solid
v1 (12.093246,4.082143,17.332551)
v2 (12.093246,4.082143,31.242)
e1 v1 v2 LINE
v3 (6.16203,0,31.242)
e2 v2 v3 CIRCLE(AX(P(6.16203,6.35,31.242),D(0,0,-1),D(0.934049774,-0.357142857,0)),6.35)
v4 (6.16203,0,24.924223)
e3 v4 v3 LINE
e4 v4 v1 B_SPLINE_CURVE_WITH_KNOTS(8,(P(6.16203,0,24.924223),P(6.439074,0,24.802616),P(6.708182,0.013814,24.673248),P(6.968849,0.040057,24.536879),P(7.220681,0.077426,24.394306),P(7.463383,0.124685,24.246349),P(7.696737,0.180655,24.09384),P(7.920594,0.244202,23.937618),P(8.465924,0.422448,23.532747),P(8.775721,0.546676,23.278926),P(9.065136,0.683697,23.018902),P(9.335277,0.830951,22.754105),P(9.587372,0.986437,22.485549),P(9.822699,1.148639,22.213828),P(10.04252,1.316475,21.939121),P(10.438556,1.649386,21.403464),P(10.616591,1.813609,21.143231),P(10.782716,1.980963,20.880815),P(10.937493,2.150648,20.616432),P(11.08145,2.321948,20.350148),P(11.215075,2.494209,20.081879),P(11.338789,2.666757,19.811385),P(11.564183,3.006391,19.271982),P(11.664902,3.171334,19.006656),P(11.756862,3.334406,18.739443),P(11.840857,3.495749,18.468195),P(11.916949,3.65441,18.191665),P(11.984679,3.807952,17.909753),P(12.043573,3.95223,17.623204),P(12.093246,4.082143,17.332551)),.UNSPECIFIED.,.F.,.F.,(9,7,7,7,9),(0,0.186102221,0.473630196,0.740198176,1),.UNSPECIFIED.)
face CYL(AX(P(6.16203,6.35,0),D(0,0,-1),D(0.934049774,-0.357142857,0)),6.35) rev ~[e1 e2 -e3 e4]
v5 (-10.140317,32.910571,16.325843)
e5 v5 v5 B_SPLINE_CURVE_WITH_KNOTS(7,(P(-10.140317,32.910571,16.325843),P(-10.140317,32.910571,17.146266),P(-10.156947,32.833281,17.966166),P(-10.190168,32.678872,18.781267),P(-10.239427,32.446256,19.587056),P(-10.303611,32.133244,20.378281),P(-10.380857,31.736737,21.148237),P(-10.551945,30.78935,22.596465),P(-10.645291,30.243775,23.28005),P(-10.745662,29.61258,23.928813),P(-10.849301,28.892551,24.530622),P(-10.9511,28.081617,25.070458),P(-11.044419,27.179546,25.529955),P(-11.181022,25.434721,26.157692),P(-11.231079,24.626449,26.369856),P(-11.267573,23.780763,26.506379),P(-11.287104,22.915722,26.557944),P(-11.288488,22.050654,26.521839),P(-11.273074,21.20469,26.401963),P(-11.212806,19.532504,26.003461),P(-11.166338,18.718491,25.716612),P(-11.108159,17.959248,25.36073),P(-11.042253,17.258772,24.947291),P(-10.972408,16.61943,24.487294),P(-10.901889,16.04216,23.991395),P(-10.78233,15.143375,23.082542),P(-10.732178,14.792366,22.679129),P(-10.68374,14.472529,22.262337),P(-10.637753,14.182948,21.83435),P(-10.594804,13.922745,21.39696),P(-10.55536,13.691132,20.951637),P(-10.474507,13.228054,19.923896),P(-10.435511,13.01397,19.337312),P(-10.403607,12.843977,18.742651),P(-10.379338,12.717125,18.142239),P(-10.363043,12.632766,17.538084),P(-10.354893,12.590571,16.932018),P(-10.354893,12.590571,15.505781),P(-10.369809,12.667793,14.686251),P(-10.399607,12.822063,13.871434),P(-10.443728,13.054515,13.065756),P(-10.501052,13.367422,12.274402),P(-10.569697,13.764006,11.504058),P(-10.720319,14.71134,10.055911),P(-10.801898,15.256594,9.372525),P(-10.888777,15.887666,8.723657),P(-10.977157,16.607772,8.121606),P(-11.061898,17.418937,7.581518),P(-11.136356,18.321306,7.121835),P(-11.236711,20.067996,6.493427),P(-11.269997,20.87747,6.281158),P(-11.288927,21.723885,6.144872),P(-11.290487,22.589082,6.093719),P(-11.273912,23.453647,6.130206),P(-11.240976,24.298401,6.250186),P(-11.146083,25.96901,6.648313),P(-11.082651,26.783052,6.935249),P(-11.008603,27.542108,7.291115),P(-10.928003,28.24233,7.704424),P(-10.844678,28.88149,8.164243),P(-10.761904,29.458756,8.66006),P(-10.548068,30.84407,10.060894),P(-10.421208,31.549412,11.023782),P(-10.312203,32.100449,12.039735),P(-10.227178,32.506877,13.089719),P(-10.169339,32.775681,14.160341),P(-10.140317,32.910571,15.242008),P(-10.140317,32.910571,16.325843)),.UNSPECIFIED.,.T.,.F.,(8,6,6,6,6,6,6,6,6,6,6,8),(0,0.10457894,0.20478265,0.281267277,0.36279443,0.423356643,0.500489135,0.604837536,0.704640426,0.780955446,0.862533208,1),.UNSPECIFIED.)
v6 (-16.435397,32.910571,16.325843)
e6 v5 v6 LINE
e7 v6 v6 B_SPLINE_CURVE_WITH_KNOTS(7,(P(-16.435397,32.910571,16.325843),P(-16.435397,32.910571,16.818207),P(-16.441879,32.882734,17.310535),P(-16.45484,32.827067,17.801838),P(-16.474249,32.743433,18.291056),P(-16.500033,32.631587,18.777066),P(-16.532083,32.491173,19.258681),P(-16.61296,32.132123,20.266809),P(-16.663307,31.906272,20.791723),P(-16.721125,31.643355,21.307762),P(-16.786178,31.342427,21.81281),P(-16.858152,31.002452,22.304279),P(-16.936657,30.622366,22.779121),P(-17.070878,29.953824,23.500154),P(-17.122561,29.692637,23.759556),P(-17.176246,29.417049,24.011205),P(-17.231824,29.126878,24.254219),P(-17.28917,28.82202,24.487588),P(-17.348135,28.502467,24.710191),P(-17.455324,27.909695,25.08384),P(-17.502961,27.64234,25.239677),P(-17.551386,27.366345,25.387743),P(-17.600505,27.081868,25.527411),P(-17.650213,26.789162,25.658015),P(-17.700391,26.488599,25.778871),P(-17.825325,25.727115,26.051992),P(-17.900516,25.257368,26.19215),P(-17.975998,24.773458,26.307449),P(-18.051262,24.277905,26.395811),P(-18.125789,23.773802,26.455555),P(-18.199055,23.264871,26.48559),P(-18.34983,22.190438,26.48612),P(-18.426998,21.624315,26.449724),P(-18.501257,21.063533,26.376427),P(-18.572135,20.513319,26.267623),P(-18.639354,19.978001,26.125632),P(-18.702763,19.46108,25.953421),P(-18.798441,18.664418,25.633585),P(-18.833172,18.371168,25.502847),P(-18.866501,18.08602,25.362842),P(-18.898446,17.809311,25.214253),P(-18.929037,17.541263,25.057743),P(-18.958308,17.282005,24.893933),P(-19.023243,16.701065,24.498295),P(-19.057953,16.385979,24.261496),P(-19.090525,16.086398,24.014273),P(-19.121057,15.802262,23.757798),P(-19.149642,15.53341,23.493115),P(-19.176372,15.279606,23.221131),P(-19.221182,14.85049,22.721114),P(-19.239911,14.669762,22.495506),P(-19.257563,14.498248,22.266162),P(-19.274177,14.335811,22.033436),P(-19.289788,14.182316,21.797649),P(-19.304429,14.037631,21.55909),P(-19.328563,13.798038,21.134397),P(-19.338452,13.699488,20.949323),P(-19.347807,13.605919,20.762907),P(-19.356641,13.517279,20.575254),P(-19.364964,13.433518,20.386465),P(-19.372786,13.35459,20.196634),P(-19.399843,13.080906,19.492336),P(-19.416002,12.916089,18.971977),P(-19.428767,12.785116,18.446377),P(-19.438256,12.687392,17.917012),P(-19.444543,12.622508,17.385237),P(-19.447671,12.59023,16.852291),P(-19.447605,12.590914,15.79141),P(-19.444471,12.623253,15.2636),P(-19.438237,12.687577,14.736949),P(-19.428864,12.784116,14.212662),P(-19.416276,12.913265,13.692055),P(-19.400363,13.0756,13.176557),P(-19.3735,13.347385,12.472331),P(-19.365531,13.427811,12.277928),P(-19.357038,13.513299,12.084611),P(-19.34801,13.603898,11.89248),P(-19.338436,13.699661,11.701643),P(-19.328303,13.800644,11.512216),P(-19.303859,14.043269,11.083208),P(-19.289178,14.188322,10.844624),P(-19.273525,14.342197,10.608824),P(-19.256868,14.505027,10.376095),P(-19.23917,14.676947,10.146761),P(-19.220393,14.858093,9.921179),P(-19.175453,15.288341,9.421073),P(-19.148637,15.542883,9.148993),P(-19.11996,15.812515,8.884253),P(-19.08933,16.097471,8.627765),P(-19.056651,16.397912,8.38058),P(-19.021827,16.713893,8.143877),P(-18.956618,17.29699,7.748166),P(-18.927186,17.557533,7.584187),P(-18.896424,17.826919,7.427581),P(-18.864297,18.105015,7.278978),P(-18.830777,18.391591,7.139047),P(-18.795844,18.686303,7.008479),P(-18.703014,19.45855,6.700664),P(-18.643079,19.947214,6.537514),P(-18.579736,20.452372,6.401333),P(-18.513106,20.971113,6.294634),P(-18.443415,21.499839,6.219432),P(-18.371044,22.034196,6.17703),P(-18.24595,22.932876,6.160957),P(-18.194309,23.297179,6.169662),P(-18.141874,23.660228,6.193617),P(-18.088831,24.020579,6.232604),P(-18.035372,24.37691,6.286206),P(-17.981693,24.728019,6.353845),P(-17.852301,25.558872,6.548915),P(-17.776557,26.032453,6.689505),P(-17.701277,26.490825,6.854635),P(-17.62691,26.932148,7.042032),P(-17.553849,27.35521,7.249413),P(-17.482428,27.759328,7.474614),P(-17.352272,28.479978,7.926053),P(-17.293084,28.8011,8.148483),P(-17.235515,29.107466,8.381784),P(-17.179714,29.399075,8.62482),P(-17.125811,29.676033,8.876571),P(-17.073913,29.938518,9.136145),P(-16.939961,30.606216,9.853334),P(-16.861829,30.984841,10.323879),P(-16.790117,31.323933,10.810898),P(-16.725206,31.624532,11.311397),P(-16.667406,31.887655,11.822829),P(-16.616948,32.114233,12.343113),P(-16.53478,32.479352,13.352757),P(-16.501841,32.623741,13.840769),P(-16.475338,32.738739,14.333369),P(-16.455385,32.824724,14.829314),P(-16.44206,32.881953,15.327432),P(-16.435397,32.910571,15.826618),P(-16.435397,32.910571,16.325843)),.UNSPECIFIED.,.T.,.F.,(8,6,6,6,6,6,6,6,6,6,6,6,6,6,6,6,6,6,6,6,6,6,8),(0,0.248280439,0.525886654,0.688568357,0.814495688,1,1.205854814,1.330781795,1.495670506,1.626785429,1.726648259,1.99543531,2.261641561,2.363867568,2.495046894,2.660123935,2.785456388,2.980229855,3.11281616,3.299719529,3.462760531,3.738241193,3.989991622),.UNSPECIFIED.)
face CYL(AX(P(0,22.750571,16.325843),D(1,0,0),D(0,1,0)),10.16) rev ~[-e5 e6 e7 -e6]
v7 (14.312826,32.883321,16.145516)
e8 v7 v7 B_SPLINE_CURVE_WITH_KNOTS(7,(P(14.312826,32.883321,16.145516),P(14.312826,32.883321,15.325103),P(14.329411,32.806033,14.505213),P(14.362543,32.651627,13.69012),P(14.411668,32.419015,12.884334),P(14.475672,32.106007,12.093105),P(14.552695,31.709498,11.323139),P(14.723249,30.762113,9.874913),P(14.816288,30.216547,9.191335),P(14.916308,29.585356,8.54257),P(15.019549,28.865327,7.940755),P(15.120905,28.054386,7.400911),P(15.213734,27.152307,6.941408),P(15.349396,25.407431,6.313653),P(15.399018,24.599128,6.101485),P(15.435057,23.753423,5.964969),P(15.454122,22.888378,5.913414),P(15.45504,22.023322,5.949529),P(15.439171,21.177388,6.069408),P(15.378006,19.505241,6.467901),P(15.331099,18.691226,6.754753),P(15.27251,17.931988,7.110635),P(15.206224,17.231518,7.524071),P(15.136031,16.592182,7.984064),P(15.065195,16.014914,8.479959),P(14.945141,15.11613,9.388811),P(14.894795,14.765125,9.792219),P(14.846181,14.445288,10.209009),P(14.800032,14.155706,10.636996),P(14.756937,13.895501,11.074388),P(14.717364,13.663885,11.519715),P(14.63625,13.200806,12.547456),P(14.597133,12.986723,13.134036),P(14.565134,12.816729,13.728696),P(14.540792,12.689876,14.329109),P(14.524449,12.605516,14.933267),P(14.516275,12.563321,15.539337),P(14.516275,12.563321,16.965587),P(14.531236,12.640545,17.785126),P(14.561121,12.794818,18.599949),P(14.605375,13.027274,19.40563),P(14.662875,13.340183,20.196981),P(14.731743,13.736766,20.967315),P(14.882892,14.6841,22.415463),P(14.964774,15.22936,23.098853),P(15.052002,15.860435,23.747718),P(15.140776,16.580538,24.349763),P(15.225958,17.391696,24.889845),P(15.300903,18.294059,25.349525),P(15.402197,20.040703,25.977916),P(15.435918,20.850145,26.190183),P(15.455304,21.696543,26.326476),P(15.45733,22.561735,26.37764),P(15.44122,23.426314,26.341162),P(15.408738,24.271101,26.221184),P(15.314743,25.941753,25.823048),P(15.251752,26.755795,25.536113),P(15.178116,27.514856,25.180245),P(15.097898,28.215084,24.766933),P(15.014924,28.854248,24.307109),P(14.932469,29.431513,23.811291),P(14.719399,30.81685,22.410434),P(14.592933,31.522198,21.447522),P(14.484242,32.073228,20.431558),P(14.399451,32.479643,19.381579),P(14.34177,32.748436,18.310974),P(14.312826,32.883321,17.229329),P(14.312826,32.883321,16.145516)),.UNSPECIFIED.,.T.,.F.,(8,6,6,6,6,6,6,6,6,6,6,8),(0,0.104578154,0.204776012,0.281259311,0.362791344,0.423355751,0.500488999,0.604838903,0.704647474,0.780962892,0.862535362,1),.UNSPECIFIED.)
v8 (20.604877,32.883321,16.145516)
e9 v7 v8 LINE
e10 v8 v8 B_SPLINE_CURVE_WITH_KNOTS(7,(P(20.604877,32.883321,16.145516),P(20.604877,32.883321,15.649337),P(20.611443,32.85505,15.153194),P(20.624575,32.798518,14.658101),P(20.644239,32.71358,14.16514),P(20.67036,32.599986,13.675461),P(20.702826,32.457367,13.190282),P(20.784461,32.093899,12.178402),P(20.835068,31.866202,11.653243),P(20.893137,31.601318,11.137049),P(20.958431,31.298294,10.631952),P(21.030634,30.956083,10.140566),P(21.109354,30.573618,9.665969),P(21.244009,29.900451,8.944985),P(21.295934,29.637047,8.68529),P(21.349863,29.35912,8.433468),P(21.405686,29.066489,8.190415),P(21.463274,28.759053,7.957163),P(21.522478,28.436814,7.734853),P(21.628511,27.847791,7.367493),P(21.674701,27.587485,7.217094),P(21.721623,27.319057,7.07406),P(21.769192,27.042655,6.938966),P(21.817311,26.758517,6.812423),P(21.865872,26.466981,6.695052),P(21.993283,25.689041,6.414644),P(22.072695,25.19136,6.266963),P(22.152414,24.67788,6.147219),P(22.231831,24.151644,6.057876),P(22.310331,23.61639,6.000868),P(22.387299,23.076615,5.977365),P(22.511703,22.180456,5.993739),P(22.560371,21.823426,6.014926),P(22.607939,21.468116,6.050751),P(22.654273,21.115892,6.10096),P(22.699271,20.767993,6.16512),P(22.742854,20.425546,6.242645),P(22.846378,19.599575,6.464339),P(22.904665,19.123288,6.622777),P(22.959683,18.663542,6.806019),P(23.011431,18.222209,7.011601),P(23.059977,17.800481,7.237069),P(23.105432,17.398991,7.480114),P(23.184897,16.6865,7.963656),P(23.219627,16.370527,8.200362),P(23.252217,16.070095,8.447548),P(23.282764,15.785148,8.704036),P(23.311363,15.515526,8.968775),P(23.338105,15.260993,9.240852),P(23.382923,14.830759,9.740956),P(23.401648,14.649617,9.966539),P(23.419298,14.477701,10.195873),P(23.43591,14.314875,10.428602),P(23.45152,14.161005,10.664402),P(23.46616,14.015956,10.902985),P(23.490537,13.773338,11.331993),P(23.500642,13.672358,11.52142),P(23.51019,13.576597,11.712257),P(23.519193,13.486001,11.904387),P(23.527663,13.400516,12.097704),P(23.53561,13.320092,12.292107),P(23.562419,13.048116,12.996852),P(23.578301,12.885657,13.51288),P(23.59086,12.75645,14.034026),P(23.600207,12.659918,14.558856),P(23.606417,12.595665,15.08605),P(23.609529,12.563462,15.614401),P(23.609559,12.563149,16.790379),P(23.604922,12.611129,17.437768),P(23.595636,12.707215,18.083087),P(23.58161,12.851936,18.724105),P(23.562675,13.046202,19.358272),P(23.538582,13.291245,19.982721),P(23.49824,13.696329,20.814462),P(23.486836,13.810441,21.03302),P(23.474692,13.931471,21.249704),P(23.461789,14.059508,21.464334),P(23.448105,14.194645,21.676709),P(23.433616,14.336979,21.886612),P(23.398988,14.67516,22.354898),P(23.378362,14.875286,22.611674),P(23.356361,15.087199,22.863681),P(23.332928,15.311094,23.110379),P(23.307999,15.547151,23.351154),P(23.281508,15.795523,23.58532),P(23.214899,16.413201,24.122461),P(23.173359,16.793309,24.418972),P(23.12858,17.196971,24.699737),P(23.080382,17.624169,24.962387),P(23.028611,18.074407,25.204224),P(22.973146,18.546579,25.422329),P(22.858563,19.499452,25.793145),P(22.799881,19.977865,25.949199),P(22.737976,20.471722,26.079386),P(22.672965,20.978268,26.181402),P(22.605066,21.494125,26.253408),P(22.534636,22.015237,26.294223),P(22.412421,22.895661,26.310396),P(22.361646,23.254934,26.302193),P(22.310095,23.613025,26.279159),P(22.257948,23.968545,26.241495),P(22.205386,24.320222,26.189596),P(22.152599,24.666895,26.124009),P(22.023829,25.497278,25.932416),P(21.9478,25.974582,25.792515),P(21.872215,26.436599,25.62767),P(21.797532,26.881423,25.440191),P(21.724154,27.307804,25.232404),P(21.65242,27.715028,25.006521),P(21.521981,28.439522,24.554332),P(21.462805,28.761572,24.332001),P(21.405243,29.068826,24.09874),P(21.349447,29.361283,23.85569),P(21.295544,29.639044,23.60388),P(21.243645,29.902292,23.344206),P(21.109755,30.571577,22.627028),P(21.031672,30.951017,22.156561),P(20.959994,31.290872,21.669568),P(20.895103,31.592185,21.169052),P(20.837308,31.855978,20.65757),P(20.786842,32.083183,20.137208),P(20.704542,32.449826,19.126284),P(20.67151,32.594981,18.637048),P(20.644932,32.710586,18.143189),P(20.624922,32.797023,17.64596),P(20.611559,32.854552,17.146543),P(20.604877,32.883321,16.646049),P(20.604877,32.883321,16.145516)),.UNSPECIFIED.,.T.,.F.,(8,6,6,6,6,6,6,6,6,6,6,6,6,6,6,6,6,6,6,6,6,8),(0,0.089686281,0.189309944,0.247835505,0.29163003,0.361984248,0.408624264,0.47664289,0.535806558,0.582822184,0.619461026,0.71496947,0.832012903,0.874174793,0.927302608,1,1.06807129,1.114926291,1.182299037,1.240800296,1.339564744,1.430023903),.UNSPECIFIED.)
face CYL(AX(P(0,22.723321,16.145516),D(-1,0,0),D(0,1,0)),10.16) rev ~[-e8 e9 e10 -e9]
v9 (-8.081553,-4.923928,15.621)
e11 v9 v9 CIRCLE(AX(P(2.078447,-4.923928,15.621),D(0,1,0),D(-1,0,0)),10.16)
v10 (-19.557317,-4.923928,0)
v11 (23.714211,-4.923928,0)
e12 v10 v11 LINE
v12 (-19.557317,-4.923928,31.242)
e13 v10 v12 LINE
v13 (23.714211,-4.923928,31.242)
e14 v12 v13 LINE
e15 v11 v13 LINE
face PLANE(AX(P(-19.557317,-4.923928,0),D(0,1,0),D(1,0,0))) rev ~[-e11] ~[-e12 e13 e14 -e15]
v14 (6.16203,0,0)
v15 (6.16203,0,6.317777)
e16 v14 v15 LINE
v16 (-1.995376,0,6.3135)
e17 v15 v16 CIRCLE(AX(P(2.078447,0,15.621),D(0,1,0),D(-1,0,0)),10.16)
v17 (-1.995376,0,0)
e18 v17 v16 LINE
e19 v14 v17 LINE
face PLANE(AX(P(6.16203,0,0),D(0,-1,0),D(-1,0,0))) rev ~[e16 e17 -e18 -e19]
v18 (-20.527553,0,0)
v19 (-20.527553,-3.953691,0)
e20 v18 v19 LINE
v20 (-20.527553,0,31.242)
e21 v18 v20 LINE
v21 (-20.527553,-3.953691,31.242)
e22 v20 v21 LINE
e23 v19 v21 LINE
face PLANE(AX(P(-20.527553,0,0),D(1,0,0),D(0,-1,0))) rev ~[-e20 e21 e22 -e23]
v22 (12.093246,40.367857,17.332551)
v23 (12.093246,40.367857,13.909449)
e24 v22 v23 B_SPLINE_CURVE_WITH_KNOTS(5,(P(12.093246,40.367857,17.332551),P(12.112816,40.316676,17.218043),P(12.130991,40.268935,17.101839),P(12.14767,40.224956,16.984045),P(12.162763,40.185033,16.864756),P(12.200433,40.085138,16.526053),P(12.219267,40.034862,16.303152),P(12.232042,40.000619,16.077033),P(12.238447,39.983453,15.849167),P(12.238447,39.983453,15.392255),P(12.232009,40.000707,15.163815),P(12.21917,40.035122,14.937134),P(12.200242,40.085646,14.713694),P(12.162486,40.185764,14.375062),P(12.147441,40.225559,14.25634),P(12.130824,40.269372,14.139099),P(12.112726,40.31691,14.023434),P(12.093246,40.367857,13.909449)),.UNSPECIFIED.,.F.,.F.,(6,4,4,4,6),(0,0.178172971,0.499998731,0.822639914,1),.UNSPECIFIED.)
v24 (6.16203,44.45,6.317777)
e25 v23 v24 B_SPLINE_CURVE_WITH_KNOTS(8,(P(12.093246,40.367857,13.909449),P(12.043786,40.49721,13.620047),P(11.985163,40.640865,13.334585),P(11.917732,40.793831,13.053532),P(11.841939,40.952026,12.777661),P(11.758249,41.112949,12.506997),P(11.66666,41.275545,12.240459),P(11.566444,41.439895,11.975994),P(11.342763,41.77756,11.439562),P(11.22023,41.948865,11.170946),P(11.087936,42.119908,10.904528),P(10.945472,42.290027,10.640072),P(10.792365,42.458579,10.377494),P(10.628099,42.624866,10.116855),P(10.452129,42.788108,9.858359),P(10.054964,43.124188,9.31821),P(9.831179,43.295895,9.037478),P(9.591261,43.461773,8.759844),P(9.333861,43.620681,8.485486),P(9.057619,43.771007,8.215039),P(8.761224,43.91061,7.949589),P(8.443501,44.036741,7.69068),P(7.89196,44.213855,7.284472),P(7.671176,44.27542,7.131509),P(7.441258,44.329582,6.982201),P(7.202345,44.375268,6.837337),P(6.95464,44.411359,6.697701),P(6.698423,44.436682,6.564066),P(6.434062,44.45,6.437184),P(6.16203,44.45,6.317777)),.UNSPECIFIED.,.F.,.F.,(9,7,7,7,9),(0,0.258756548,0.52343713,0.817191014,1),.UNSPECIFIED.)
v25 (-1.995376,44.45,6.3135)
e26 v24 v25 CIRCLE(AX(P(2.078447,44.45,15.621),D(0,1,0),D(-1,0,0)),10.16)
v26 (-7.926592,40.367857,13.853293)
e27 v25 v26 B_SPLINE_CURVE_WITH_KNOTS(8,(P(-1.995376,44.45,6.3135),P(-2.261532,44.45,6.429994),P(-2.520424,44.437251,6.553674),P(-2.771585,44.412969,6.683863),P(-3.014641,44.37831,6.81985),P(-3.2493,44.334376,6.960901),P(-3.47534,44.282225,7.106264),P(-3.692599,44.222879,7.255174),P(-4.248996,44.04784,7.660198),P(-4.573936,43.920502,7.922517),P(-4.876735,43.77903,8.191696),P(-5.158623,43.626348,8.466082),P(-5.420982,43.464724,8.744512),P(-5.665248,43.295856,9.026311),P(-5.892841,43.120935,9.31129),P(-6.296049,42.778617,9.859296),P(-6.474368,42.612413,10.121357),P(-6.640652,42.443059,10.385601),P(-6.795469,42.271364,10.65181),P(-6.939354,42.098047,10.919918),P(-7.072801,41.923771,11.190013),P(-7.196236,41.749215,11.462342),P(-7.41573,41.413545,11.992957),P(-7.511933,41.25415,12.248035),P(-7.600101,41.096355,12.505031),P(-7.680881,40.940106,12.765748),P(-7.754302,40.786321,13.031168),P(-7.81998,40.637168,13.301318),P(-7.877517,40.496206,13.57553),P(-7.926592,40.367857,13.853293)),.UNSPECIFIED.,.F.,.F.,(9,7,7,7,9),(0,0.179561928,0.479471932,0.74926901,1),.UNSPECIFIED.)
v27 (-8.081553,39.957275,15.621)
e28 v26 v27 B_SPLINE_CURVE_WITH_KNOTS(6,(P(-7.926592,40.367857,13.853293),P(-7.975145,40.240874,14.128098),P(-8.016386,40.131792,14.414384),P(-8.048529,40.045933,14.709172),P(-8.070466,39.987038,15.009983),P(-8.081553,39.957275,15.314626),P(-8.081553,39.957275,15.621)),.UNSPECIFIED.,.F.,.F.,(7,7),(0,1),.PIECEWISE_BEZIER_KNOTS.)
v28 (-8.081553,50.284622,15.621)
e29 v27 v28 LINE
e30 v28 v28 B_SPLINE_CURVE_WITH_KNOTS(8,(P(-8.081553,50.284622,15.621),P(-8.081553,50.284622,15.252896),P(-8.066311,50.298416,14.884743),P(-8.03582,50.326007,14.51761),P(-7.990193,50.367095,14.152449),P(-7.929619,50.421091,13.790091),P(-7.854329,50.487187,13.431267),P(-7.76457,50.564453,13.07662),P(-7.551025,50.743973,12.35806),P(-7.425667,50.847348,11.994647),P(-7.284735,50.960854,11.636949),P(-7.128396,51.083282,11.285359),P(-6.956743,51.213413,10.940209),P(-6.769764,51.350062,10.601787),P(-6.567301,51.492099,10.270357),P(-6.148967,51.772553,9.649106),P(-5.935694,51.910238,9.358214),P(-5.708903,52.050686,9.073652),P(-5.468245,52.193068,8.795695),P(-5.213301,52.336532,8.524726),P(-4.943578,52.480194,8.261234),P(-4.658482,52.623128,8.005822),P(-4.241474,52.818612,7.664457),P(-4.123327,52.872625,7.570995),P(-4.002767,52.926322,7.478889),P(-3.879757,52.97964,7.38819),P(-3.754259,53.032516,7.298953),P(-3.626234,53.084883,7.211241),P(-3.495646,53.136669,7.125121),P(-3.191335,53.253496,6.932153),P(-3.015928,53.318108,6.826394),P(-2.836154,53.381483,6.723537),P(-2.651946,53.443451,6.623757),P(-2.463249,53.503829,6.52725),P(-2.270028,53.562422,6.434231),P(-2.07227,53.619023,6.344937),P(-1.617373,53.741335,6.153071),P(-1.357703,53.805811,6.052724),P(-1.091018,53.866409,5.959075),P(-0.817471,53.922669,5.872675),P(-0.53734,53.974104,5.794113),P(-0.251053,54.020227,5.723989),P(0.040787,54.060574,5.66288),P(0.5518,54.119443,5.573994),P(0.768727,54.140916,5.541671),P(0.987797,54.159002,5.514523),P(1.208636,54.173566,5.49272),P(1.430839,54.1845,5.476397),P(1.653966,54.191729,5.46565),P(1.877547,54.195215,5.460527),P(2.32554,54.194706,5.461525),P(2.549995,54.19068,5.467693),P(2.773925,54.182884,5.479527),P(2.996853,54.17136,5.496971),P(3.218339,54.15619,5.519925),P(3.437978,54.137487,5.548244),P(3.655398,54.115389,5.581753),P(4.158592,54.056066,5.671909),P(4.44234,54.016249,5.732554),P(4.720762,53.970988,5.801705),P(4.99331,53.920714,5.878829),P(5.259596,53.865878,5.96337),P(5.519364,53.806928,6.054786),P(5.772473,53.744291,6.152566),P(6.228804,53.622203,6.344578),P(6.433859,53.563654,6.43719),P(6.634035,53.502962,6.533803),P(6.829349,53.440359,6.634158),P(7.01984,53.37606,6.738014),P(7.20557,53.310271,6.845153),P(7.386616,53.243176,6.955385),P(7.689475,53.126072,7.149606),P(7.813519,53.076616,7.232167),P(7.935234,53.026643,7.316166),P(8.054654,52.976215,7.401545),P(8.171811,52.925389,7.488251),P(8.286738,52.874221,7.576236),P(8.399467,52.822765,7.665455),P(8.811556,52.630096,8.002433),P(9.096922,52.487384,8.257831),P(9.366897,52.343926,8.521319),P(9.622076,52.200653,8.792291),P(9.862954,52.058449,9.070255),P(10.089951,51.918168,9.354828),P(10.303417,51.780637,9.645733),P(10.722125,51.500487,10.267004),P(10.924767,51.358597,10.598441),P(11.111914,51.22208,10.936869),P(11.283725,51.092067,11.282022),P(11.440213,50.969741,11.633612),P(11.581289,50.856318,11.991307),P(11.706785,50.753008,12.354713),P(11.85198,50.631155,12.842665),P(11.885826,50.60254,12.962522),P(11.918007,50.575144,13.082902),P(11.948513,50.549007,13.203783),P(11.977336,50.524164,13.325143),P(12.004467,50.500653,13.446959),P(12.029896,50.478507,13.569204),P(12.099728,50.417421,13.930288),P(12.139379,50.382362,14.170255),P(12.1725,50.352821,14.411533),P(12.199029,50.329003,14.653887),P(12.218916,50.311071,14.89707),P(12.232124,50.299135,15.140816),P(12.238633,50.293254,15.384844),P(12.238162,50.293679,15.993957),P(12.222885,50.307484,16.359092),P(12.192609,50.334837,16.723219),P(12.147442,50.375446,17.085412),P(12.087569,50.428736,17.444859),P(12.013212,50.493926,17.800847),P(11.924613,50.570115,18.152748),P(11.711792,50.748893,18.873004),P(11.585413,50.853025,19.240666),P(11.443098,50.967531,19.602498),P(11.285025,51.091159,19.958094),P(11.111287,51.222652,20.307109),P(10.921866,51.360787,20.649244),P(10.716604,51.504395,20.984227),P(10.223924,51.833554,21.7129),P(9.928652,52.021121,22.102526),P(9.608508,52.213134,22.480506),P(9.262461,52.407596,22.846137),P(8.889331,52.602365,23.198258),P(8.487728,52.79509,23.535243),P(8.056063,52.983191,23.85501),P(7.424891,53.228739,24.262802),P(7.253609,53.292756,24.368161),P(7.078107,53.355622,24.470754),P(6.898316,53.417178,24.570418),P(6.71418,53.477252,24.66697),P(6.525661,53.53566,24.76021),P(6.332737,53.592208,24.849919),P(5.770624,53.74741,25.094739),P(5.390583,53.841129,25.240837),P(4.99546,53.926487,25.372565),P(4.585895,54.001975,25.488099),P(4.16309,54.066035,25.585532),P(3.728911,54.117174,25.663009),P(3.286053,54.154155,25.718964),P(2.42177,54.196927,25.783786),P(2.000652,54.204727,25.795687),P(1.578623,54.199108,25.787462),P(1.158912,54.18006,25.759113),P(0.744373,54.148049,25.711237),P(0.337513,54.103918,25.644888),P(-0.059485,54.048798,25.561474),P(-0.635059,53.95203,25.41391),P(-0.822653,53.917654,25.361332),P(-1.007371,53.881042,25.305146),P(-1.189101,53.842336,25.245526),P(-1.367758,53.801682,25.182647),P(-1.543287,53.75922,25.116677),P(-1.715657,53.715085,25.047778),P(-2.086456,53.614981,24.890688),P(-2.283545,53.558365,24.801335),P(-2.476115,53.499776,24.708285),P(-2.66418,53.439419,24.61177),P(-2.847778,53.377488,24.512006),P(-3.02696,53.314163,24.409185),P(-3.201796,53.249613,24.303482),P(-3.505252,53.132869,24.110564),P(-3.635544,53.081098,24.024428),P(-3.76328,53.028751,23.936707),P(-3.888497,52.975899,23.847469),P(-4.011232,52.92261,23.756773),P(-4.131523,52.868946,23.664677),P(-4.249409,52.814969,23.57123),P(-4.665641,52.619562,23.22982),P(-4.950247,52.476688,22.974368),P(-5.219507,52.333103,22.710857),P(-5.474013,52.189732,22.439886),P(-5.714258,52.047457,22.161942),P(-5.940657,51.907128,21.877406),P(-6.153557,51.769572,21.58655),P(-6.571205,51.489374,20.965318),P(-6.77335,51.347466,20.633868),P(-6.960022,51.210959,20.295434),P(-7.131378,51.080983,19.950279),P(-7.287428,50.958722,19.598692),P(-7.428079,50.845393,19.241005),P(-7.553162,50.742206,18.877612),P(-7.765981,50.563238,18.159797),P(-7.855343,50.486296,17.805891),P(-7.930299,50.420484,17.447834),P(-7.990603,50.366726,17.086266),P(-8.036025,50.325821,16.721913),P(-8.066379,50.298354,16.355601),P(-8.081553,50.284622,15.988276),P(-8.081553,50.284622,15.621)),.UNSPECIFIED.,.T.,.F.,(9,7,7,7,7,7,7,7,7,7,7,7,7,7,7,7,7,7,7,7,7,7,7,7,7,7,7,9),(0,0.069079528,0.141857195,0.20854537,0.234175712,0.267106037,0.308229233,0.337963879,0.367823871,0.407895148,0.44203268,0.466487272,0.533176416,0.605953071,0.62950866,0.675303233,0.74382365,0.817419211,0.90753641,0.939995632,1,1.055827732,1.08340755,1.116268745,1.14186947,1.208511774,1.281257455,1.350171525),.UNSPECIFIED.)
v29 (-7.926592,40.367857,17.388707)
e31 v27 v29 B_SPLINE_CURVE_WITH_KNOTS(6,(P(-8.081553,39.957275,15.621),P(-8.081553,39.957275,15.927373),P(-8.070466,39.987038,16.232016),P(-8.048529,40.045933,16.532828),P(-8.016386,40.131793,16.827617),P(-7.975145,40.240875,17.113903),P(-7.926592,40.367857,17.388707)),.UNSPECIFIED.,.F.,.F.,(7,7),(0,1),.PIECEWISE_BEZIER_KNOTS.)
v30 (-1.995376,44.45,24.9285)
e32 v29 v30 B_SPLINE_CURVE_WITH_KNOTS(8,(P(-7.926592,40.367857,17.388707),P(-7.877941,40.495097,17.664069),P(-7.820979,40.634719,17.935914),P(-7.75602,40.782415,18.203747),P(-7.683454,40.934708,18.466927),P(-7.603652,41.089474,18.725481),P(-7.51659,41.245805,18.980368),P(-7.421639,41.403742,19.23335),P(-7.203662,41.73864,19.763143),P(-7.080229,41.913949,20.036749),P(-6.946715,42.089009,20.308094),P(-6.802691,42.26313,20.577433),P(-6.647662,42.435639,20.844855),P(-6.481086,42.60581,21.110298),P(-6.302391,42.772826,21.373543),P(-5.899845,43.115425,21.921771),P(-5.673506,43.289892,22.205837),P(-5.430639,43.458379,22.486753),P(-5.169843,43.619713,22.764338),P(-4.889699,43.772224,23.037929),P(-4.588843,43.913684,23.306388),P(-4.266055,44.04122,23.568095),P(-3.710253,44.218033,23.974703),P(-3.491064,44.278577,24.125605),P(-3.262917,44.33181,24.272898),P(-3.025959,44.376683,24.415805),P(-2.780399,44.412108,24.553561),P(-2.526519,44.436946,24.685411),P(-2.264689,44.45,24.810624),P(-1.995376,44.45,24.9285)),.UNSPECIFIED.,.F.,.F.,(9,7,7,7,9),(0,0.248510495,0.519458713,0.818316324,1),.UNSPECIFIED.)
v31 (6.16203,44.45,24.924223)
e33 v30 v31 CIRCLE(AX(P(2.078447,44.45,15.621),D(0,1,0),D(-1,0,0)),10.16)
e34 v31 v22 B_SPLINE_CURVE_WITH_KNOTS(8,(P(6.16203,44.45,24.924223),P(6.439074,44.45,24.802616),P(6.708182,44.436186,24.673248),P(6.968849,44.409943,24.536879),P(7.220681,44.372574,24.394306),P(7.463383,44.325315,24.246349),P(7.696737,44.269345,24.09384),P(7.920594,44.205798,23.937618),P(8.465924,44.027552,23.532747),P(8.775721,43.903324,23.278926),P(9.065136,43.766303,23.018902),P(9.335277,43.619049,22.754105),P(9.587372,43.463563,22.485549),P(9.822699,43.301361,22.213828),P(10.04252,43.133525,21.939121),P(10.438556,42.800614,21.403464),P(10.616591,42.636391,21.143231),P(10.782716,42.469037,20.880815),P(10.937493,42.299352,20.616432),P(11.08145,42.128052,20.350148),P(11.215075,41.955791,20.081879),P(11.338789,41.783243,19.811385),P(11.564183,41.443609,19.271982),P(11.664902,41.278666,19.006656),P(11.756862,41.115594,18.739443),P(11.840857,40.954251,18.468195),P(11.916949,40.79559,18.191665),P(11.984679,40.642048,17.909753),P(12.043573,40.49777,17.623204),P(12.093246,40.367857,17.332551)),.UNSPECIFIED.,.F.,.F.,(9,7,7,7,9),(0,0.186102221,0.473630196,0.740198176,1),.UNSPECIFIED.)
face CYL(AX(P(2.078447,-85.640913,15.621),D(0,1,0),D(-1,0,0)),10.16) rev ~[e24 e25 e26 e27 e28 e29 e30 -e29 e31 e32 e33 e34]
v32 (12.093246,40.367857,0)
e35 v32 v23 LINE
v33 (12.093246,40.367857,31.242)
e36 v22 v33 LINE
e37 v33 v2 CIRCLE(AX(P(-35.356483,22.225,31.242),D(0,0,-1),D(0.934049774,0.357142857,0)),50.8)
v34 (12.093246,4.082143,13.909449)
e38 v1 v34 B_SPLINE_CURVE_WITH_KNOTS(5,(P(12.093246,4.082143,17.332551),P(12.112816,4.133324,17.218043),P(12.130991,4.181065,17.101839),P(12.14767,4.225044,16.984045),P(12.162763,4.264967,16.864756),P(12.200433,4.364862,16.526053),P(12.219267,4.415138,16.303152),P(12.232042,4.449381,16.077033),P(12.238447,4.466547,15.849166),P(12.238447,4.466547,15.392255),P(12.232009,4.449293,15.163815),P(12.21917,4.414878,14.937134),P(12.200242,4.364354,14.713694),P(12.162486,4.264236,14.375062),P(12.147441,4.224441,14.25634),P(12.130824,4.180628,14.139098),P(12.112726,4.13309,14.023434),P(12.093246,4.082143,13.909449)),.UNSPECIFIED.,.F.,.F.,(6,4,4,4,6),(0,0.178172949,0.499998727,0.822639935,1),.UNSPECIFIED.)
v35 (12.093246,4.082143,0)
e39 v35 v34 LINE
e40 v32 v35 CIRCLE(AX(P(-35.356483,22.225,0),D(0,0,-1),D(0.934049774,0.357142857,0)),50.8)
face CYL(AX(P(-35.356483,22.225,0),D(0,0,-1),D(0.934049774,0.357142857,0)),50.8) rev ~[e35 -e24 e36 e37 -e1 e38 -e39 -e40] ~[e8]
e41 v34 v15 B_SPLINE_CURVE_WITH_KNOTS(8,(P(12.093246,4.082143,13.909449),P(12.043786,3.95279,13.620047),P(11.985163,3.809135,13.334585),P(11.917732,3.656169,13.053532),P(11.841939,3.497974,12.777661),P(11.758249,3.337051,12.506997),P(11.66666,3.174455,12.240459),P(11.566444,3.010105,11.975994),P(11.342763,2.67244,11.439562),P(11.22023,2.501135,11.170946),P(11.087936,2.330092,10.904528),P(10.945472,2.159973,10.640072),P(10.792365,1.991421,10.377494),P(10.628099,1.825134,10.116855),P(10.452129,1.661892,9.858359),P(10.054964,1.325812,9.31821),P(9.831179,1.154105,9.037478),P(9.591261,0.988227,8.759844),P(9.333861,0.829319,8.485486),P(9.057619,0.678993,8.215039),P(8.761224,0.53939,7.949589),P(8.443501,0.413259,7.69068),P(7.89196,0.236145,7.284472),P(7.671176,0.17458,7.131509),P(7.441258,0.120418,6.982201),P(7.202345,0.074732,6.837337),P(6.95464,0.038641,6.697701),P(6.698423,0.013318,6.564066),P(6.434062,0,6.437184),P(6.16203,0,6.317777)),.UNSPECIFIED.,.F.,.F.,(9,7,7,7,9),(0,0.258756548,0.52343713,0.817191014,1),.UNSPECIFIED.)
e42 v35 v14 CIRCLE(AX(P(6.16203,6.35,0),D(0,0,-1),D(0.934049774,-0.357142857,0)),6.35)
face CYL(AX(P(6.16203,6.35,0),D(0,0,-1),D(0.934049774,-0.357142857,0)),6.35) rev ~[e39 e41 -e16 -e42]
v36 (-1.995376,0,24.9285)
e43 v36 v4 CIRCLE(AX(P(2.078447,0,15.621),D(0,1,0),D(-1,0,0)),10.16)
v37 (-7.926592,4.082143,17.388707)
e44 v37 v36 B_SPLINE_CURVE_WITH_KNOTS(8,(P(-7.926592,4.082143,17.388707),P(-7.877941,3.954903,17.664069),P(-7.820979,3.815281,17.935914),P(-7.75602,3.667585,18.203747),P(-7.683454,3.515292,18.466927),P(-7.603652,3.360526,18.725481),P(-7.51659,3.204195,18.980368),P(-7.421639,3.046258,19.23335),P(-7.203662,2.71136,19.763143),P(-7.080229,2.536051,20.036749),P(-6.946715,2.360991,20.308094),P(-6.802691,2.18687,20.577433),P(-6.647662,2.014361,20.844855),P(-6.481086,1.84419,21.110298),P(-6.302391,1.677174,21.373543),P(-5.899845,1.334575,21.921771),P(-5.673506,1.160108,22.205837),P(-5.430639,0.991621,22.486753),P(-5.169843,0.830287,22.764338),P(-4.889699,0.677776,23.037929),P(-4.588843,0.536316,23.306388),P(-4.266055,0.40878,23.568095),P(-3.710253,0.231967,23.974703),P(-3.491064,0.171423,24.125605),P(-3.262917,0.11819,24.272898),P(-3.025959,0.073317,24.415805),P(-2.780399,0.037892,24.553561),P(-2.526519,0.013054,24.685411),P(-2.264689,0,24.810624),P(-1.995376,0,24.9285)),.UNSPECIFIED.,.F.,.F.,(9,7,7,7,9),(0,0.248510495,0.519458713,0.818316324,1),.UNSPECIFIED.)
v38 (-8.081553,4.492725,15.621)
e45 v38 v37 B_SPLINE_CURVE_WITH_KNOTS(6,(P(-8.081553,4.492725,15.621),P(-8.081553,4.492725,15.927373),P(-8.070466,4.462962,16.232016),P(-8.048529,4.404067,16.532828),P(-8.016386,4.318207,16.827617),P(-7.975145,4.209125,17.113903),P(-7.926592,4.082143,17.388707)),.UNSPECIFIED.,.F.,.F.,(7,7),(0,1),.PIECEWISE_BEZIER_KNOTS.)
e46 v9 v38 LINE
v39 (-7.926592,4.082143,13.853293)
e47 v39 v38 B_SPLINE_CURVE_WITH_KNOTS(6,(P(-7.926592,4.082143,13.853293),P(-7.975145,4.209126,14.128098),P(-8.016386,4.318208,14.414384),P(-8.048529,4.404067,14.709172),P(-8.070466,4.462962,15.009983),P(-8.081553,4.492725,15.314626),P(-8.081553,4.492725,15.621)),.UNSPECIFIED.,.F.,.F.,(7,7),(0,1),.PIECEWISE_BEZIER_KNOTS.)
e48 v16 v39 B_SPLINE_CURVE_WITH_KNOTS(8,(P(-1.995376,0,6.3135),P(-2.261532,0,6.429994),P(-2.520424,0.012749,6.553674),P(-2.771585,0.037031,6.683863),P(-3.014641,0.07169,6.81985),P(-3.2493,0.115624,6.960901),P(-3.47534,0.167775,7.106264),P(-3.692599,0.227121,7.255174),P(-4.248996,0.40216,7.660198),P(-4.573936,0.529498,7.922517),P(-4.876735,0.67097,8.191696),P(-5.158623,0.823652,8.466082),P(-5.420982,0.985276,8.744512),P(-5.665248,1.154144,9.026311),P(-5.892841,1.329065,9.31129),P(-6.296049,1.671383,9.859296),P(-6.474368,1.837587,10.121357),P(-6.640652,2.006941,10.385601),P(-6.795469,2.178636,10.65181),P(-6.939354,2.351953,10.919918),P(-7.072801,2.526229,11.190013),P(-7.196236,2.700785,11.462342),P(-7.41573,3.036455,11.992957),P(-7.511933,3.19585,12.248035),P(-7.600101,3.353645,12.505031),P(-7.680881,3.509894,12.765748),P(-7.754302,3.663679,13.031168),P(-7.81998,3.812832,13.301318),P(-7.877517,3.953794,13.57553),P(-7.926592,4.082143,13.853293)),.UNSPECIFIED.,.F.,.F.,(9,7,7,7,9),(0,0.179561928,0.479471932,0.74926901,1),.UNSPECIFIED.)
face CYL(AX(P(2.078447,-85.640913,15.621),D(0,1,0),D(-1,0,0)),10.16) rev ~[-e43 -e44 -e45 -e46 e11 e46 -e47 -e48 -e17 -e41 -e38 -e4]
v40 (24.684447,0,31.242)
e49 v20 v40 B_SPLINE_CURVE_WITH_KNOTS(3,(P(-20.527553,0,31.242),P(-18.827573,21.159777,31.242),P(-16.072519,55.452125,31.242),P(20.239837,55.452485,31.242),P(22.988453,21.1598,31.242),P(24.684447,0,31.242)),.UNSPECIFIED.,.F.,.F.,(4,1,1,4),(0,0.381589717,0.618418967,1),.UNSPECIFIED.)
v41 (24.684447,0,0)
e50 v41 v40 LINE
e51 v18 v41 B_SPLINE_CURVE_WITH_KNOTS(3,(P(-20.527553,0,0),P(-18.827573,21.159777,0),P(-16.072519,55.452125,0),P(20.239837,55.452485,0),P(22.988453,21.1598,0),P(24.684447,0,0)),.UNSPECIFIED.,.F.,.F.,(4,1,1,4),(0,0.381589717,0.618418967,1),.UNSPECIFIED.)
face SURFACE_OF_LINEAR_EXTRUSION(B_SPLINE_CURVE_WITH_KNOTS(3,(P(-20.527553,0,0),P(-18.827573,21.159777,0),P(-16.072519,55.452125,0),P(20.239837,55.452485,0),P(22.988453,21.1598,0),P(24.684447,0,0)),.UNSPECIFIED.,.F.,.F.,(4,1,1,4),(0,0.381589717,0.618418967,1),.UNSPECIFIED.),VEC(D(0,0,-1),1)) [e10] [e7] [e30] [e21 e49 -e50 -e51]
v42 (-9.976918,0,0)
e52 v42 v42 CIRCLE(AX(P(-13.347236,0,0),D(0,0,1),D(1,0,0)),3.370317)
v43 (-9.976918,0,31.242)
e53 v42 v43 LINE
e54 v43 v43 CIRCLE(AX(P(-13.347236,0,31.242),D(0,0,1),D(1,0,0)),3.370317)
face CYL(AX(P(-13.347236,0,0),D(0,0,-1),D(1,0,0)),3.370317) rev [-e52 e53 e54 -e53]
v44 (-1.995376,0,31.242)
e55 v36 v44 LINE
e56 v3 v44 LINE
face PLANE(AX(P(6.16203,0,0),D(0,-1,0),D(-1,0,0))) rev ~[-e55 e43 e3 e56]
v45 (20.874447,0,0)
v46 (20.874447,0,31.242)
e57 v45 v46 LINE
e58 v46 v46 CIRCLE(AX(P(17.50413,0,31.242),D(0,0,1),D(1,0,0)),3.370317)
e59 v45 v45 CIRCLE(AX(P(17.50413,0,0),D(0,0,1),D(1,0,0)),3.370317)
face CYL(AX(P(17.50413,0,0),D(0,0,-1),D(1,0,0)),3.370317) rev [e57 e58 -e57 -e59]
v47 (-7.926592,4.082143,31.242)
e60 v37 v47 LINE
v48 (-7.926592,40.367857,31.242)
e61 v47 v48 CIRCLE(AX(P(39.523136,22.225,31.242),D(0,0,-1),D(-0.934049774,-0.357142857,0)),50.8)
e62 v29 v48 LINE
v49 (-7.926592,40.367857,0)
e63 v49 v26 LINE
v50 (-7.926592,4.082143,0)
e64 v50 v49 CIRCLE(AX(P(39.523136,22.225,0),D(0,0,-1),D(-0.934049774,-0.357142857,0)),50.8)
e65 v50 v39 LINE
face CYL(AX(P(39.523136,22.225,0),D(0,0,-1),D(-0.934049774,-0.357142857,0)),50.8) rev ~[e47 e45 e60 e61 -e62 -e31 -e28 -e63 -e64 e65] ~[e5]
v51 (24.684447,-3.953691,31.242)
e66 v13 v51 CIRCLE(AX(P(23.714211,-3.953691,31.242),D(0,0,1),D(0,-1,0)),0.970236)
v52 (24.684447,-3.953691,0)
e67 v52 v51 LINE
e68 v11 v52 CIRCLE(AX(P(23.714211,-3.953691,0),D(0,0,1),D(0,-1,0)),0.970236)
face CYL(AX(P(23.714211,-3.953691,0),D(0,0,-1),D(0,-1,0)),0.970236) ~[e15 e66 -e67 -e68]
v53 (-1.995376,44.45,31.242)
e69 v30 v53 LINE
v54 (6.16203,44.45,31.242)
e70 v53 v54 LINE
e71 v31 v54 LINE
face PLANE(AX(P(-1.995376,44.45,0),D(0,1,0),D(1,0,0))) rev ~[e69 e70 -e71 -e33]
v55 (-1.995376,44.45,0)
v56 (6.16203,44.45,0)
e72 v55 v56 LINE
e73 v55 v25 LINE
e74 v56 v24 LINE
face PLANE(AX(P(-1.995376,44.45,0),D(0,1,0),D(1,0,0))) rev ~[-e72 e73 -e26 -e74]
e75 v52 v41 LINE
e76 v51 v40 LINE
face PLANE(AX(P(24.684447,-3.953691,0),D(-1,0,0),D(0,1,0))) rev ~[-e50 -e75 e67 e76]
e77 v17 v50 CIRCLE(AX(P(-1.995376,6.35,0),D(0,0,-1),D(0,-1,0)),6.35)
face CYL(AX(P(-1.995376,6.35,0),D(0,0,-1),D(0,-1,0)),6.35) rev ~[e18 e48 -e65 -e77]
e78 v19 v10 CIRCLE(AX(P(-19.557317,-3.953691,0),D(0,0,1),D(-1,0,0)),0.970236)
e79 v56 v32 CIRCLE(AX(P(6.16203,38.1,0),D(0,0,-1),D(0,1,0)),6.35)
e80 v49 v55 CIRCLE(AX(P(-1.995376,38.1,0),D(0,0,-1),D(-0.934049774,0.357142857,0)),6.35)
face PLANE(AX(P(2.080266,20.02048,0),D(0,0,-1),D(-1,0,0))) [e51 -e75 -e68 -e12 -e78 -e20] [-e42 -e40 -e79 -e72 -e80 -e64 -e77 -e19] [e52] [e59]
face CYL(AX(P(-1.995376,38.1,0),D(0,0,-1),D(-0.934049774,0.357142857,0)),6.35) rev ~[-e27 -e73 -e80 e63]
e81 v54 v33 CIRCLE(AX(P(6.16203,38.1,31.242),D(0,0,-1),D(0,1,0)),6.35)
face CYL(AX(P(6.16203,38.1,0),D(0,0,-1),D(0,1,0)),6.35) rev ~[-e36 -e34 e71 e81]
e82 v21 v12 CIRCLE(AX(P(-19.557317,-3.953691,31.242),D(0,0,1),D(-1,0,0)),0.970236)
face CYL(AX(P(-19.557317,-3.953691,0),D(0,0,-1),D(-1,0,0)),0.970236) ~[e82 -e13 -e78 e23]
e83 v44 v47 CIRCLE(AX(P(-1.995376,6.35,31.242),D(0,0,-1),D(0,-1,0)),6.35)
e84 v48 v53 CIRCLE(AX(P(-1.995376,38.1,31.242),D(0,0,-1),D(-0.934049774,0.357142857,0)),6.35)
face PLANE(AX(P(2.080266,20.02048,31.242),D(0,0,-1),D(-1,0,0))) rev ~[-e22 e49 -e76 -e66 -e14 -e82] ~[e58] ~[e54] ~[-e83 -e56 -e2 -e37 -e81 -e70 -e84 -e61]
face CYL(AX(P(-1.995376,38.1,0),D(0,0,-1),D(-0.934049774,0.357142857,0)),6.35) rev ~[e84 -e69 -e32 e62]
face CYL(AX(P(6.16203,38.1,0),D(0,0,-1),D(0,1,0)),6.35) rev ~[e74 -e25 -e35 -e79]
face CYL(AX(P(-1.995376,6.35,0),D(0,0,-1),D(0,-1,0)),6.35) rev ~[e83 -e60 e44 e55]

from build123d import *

# Parameters (mm, degrees)
F0_R     = 3.3703172414
F1_DEPTH = 31.242
F3_D     = 20.32
F5_D     = 20.32
F5_DEPTH = 24.6854472867
F7_D     = 20.32
F7_DEPTH = 20.5285529133


with BuildPart() as f1:
    # F0 (on Top) → F1 (new body)
    with BuildSketch(Plane.XY):
        with BuildLine():
            add(Edge.make_bspline(
                [(-20.5275528133, 0), (-18.8275725492, 21.1597767899), (-16.0725191688, 55.4521246519), (20.2398365965, 55.4524849576), (22.9884533584, 21.1598002442), (24.6844471867, 0)],
                knots=[0, 0, 0, 0, 0.3815897165, 0.6184189667, 1, 1, 1, 1], degree=3))
            Line((-20.5275528133, 0), (-20.5275528133, -3.9536914555))
            ThreePointArc((-20.5275528133, -3.9536914555), (-20.2433772266, -4.639752011), (-19.5573166711, -4.9239275977))
            Line((-19.5573166711, -4.9239275977), (23.7142110445, -4.9239275977))
            ThreePointArc((23.7142110445, -4.9239275977), (24.4002716, -4.639752011), (24.6844471867, -3.9536914555))
            Line((24.6844471867, -3.9536914555), (24.6844471867, 0))
        make_face()
        with Locations((-13.3472355719, 0)):
            Circle(F0_R, mode=Mode.SUBTRACT)
        with Locations((17.5041299453, 0)):
            Circle(F0_R, mode=Mode.SUBTRACT)
        with BuildLine():
            Line((6.1620298816, 0), (-1.9953760516, 0))
            ThreePointArc((-1.9953760516, 0), (-5.5954876571, 1.1191591088), (-7.9265921141, 4.0821428571))
            ThreePointArc((-7.9265921141, 4.0821428571), (-11.2768636144, 22.225), (-7.9265921141, 40.3678571429))
            ThreePointArc((-7.9265921141, 40.3678571429), (-5.5954876571, 43.3308408912), (-1.9953760516, 44.45))
            Line((-1.9953760516, 44.45), (6.1620298816, 44.45))
            ThreePointArc((6.1620298816, 44.45), (9.762141487, 43.3308408912), (12.0932459441, 40.3678571429))
            ThreePointArc((12.0932459441, 40.3678571429), (15.4435174444, 22.225), (12.0932459441, 4.0821428571))
            ThreePointArc((12.0932459441, 4.0821428571), (9.762141487, 1.1191591088), (6.1620298816, 0))
        make_face(mode=Mode.SUBTRACT)
    extrude(amount=F1_DEPTH)

    # F3 (through all)
    with Locations(Plane.XZ.offset(4.9239275977)):
        with Locations((2.0784471867, 15.621)):
            Hole(F3_D / 2)

    # F5 (through all, one way)
    with BuildSketch(Plane(origin=(0, 0, 0), x_dir=(0, 1, 0), z_dir=(-1, 0, 0))):
        with Locations((22.7233208716, -16.145516187)):
            Circle(F5_D / 2)
    extrude(amount=-F5_DEPTH, mode=Mode.SUBTRACT)

    # F7 (through all, one way)
    with BuildSketch(Plane.YZ):
        with Locations((22.7505713701, 16.3258425891)):
            Circle(F7_D / 2)
    extrude(amount=-F7_DEPTH, mode=Mode.SUBTRACT)


solid = f1.part
